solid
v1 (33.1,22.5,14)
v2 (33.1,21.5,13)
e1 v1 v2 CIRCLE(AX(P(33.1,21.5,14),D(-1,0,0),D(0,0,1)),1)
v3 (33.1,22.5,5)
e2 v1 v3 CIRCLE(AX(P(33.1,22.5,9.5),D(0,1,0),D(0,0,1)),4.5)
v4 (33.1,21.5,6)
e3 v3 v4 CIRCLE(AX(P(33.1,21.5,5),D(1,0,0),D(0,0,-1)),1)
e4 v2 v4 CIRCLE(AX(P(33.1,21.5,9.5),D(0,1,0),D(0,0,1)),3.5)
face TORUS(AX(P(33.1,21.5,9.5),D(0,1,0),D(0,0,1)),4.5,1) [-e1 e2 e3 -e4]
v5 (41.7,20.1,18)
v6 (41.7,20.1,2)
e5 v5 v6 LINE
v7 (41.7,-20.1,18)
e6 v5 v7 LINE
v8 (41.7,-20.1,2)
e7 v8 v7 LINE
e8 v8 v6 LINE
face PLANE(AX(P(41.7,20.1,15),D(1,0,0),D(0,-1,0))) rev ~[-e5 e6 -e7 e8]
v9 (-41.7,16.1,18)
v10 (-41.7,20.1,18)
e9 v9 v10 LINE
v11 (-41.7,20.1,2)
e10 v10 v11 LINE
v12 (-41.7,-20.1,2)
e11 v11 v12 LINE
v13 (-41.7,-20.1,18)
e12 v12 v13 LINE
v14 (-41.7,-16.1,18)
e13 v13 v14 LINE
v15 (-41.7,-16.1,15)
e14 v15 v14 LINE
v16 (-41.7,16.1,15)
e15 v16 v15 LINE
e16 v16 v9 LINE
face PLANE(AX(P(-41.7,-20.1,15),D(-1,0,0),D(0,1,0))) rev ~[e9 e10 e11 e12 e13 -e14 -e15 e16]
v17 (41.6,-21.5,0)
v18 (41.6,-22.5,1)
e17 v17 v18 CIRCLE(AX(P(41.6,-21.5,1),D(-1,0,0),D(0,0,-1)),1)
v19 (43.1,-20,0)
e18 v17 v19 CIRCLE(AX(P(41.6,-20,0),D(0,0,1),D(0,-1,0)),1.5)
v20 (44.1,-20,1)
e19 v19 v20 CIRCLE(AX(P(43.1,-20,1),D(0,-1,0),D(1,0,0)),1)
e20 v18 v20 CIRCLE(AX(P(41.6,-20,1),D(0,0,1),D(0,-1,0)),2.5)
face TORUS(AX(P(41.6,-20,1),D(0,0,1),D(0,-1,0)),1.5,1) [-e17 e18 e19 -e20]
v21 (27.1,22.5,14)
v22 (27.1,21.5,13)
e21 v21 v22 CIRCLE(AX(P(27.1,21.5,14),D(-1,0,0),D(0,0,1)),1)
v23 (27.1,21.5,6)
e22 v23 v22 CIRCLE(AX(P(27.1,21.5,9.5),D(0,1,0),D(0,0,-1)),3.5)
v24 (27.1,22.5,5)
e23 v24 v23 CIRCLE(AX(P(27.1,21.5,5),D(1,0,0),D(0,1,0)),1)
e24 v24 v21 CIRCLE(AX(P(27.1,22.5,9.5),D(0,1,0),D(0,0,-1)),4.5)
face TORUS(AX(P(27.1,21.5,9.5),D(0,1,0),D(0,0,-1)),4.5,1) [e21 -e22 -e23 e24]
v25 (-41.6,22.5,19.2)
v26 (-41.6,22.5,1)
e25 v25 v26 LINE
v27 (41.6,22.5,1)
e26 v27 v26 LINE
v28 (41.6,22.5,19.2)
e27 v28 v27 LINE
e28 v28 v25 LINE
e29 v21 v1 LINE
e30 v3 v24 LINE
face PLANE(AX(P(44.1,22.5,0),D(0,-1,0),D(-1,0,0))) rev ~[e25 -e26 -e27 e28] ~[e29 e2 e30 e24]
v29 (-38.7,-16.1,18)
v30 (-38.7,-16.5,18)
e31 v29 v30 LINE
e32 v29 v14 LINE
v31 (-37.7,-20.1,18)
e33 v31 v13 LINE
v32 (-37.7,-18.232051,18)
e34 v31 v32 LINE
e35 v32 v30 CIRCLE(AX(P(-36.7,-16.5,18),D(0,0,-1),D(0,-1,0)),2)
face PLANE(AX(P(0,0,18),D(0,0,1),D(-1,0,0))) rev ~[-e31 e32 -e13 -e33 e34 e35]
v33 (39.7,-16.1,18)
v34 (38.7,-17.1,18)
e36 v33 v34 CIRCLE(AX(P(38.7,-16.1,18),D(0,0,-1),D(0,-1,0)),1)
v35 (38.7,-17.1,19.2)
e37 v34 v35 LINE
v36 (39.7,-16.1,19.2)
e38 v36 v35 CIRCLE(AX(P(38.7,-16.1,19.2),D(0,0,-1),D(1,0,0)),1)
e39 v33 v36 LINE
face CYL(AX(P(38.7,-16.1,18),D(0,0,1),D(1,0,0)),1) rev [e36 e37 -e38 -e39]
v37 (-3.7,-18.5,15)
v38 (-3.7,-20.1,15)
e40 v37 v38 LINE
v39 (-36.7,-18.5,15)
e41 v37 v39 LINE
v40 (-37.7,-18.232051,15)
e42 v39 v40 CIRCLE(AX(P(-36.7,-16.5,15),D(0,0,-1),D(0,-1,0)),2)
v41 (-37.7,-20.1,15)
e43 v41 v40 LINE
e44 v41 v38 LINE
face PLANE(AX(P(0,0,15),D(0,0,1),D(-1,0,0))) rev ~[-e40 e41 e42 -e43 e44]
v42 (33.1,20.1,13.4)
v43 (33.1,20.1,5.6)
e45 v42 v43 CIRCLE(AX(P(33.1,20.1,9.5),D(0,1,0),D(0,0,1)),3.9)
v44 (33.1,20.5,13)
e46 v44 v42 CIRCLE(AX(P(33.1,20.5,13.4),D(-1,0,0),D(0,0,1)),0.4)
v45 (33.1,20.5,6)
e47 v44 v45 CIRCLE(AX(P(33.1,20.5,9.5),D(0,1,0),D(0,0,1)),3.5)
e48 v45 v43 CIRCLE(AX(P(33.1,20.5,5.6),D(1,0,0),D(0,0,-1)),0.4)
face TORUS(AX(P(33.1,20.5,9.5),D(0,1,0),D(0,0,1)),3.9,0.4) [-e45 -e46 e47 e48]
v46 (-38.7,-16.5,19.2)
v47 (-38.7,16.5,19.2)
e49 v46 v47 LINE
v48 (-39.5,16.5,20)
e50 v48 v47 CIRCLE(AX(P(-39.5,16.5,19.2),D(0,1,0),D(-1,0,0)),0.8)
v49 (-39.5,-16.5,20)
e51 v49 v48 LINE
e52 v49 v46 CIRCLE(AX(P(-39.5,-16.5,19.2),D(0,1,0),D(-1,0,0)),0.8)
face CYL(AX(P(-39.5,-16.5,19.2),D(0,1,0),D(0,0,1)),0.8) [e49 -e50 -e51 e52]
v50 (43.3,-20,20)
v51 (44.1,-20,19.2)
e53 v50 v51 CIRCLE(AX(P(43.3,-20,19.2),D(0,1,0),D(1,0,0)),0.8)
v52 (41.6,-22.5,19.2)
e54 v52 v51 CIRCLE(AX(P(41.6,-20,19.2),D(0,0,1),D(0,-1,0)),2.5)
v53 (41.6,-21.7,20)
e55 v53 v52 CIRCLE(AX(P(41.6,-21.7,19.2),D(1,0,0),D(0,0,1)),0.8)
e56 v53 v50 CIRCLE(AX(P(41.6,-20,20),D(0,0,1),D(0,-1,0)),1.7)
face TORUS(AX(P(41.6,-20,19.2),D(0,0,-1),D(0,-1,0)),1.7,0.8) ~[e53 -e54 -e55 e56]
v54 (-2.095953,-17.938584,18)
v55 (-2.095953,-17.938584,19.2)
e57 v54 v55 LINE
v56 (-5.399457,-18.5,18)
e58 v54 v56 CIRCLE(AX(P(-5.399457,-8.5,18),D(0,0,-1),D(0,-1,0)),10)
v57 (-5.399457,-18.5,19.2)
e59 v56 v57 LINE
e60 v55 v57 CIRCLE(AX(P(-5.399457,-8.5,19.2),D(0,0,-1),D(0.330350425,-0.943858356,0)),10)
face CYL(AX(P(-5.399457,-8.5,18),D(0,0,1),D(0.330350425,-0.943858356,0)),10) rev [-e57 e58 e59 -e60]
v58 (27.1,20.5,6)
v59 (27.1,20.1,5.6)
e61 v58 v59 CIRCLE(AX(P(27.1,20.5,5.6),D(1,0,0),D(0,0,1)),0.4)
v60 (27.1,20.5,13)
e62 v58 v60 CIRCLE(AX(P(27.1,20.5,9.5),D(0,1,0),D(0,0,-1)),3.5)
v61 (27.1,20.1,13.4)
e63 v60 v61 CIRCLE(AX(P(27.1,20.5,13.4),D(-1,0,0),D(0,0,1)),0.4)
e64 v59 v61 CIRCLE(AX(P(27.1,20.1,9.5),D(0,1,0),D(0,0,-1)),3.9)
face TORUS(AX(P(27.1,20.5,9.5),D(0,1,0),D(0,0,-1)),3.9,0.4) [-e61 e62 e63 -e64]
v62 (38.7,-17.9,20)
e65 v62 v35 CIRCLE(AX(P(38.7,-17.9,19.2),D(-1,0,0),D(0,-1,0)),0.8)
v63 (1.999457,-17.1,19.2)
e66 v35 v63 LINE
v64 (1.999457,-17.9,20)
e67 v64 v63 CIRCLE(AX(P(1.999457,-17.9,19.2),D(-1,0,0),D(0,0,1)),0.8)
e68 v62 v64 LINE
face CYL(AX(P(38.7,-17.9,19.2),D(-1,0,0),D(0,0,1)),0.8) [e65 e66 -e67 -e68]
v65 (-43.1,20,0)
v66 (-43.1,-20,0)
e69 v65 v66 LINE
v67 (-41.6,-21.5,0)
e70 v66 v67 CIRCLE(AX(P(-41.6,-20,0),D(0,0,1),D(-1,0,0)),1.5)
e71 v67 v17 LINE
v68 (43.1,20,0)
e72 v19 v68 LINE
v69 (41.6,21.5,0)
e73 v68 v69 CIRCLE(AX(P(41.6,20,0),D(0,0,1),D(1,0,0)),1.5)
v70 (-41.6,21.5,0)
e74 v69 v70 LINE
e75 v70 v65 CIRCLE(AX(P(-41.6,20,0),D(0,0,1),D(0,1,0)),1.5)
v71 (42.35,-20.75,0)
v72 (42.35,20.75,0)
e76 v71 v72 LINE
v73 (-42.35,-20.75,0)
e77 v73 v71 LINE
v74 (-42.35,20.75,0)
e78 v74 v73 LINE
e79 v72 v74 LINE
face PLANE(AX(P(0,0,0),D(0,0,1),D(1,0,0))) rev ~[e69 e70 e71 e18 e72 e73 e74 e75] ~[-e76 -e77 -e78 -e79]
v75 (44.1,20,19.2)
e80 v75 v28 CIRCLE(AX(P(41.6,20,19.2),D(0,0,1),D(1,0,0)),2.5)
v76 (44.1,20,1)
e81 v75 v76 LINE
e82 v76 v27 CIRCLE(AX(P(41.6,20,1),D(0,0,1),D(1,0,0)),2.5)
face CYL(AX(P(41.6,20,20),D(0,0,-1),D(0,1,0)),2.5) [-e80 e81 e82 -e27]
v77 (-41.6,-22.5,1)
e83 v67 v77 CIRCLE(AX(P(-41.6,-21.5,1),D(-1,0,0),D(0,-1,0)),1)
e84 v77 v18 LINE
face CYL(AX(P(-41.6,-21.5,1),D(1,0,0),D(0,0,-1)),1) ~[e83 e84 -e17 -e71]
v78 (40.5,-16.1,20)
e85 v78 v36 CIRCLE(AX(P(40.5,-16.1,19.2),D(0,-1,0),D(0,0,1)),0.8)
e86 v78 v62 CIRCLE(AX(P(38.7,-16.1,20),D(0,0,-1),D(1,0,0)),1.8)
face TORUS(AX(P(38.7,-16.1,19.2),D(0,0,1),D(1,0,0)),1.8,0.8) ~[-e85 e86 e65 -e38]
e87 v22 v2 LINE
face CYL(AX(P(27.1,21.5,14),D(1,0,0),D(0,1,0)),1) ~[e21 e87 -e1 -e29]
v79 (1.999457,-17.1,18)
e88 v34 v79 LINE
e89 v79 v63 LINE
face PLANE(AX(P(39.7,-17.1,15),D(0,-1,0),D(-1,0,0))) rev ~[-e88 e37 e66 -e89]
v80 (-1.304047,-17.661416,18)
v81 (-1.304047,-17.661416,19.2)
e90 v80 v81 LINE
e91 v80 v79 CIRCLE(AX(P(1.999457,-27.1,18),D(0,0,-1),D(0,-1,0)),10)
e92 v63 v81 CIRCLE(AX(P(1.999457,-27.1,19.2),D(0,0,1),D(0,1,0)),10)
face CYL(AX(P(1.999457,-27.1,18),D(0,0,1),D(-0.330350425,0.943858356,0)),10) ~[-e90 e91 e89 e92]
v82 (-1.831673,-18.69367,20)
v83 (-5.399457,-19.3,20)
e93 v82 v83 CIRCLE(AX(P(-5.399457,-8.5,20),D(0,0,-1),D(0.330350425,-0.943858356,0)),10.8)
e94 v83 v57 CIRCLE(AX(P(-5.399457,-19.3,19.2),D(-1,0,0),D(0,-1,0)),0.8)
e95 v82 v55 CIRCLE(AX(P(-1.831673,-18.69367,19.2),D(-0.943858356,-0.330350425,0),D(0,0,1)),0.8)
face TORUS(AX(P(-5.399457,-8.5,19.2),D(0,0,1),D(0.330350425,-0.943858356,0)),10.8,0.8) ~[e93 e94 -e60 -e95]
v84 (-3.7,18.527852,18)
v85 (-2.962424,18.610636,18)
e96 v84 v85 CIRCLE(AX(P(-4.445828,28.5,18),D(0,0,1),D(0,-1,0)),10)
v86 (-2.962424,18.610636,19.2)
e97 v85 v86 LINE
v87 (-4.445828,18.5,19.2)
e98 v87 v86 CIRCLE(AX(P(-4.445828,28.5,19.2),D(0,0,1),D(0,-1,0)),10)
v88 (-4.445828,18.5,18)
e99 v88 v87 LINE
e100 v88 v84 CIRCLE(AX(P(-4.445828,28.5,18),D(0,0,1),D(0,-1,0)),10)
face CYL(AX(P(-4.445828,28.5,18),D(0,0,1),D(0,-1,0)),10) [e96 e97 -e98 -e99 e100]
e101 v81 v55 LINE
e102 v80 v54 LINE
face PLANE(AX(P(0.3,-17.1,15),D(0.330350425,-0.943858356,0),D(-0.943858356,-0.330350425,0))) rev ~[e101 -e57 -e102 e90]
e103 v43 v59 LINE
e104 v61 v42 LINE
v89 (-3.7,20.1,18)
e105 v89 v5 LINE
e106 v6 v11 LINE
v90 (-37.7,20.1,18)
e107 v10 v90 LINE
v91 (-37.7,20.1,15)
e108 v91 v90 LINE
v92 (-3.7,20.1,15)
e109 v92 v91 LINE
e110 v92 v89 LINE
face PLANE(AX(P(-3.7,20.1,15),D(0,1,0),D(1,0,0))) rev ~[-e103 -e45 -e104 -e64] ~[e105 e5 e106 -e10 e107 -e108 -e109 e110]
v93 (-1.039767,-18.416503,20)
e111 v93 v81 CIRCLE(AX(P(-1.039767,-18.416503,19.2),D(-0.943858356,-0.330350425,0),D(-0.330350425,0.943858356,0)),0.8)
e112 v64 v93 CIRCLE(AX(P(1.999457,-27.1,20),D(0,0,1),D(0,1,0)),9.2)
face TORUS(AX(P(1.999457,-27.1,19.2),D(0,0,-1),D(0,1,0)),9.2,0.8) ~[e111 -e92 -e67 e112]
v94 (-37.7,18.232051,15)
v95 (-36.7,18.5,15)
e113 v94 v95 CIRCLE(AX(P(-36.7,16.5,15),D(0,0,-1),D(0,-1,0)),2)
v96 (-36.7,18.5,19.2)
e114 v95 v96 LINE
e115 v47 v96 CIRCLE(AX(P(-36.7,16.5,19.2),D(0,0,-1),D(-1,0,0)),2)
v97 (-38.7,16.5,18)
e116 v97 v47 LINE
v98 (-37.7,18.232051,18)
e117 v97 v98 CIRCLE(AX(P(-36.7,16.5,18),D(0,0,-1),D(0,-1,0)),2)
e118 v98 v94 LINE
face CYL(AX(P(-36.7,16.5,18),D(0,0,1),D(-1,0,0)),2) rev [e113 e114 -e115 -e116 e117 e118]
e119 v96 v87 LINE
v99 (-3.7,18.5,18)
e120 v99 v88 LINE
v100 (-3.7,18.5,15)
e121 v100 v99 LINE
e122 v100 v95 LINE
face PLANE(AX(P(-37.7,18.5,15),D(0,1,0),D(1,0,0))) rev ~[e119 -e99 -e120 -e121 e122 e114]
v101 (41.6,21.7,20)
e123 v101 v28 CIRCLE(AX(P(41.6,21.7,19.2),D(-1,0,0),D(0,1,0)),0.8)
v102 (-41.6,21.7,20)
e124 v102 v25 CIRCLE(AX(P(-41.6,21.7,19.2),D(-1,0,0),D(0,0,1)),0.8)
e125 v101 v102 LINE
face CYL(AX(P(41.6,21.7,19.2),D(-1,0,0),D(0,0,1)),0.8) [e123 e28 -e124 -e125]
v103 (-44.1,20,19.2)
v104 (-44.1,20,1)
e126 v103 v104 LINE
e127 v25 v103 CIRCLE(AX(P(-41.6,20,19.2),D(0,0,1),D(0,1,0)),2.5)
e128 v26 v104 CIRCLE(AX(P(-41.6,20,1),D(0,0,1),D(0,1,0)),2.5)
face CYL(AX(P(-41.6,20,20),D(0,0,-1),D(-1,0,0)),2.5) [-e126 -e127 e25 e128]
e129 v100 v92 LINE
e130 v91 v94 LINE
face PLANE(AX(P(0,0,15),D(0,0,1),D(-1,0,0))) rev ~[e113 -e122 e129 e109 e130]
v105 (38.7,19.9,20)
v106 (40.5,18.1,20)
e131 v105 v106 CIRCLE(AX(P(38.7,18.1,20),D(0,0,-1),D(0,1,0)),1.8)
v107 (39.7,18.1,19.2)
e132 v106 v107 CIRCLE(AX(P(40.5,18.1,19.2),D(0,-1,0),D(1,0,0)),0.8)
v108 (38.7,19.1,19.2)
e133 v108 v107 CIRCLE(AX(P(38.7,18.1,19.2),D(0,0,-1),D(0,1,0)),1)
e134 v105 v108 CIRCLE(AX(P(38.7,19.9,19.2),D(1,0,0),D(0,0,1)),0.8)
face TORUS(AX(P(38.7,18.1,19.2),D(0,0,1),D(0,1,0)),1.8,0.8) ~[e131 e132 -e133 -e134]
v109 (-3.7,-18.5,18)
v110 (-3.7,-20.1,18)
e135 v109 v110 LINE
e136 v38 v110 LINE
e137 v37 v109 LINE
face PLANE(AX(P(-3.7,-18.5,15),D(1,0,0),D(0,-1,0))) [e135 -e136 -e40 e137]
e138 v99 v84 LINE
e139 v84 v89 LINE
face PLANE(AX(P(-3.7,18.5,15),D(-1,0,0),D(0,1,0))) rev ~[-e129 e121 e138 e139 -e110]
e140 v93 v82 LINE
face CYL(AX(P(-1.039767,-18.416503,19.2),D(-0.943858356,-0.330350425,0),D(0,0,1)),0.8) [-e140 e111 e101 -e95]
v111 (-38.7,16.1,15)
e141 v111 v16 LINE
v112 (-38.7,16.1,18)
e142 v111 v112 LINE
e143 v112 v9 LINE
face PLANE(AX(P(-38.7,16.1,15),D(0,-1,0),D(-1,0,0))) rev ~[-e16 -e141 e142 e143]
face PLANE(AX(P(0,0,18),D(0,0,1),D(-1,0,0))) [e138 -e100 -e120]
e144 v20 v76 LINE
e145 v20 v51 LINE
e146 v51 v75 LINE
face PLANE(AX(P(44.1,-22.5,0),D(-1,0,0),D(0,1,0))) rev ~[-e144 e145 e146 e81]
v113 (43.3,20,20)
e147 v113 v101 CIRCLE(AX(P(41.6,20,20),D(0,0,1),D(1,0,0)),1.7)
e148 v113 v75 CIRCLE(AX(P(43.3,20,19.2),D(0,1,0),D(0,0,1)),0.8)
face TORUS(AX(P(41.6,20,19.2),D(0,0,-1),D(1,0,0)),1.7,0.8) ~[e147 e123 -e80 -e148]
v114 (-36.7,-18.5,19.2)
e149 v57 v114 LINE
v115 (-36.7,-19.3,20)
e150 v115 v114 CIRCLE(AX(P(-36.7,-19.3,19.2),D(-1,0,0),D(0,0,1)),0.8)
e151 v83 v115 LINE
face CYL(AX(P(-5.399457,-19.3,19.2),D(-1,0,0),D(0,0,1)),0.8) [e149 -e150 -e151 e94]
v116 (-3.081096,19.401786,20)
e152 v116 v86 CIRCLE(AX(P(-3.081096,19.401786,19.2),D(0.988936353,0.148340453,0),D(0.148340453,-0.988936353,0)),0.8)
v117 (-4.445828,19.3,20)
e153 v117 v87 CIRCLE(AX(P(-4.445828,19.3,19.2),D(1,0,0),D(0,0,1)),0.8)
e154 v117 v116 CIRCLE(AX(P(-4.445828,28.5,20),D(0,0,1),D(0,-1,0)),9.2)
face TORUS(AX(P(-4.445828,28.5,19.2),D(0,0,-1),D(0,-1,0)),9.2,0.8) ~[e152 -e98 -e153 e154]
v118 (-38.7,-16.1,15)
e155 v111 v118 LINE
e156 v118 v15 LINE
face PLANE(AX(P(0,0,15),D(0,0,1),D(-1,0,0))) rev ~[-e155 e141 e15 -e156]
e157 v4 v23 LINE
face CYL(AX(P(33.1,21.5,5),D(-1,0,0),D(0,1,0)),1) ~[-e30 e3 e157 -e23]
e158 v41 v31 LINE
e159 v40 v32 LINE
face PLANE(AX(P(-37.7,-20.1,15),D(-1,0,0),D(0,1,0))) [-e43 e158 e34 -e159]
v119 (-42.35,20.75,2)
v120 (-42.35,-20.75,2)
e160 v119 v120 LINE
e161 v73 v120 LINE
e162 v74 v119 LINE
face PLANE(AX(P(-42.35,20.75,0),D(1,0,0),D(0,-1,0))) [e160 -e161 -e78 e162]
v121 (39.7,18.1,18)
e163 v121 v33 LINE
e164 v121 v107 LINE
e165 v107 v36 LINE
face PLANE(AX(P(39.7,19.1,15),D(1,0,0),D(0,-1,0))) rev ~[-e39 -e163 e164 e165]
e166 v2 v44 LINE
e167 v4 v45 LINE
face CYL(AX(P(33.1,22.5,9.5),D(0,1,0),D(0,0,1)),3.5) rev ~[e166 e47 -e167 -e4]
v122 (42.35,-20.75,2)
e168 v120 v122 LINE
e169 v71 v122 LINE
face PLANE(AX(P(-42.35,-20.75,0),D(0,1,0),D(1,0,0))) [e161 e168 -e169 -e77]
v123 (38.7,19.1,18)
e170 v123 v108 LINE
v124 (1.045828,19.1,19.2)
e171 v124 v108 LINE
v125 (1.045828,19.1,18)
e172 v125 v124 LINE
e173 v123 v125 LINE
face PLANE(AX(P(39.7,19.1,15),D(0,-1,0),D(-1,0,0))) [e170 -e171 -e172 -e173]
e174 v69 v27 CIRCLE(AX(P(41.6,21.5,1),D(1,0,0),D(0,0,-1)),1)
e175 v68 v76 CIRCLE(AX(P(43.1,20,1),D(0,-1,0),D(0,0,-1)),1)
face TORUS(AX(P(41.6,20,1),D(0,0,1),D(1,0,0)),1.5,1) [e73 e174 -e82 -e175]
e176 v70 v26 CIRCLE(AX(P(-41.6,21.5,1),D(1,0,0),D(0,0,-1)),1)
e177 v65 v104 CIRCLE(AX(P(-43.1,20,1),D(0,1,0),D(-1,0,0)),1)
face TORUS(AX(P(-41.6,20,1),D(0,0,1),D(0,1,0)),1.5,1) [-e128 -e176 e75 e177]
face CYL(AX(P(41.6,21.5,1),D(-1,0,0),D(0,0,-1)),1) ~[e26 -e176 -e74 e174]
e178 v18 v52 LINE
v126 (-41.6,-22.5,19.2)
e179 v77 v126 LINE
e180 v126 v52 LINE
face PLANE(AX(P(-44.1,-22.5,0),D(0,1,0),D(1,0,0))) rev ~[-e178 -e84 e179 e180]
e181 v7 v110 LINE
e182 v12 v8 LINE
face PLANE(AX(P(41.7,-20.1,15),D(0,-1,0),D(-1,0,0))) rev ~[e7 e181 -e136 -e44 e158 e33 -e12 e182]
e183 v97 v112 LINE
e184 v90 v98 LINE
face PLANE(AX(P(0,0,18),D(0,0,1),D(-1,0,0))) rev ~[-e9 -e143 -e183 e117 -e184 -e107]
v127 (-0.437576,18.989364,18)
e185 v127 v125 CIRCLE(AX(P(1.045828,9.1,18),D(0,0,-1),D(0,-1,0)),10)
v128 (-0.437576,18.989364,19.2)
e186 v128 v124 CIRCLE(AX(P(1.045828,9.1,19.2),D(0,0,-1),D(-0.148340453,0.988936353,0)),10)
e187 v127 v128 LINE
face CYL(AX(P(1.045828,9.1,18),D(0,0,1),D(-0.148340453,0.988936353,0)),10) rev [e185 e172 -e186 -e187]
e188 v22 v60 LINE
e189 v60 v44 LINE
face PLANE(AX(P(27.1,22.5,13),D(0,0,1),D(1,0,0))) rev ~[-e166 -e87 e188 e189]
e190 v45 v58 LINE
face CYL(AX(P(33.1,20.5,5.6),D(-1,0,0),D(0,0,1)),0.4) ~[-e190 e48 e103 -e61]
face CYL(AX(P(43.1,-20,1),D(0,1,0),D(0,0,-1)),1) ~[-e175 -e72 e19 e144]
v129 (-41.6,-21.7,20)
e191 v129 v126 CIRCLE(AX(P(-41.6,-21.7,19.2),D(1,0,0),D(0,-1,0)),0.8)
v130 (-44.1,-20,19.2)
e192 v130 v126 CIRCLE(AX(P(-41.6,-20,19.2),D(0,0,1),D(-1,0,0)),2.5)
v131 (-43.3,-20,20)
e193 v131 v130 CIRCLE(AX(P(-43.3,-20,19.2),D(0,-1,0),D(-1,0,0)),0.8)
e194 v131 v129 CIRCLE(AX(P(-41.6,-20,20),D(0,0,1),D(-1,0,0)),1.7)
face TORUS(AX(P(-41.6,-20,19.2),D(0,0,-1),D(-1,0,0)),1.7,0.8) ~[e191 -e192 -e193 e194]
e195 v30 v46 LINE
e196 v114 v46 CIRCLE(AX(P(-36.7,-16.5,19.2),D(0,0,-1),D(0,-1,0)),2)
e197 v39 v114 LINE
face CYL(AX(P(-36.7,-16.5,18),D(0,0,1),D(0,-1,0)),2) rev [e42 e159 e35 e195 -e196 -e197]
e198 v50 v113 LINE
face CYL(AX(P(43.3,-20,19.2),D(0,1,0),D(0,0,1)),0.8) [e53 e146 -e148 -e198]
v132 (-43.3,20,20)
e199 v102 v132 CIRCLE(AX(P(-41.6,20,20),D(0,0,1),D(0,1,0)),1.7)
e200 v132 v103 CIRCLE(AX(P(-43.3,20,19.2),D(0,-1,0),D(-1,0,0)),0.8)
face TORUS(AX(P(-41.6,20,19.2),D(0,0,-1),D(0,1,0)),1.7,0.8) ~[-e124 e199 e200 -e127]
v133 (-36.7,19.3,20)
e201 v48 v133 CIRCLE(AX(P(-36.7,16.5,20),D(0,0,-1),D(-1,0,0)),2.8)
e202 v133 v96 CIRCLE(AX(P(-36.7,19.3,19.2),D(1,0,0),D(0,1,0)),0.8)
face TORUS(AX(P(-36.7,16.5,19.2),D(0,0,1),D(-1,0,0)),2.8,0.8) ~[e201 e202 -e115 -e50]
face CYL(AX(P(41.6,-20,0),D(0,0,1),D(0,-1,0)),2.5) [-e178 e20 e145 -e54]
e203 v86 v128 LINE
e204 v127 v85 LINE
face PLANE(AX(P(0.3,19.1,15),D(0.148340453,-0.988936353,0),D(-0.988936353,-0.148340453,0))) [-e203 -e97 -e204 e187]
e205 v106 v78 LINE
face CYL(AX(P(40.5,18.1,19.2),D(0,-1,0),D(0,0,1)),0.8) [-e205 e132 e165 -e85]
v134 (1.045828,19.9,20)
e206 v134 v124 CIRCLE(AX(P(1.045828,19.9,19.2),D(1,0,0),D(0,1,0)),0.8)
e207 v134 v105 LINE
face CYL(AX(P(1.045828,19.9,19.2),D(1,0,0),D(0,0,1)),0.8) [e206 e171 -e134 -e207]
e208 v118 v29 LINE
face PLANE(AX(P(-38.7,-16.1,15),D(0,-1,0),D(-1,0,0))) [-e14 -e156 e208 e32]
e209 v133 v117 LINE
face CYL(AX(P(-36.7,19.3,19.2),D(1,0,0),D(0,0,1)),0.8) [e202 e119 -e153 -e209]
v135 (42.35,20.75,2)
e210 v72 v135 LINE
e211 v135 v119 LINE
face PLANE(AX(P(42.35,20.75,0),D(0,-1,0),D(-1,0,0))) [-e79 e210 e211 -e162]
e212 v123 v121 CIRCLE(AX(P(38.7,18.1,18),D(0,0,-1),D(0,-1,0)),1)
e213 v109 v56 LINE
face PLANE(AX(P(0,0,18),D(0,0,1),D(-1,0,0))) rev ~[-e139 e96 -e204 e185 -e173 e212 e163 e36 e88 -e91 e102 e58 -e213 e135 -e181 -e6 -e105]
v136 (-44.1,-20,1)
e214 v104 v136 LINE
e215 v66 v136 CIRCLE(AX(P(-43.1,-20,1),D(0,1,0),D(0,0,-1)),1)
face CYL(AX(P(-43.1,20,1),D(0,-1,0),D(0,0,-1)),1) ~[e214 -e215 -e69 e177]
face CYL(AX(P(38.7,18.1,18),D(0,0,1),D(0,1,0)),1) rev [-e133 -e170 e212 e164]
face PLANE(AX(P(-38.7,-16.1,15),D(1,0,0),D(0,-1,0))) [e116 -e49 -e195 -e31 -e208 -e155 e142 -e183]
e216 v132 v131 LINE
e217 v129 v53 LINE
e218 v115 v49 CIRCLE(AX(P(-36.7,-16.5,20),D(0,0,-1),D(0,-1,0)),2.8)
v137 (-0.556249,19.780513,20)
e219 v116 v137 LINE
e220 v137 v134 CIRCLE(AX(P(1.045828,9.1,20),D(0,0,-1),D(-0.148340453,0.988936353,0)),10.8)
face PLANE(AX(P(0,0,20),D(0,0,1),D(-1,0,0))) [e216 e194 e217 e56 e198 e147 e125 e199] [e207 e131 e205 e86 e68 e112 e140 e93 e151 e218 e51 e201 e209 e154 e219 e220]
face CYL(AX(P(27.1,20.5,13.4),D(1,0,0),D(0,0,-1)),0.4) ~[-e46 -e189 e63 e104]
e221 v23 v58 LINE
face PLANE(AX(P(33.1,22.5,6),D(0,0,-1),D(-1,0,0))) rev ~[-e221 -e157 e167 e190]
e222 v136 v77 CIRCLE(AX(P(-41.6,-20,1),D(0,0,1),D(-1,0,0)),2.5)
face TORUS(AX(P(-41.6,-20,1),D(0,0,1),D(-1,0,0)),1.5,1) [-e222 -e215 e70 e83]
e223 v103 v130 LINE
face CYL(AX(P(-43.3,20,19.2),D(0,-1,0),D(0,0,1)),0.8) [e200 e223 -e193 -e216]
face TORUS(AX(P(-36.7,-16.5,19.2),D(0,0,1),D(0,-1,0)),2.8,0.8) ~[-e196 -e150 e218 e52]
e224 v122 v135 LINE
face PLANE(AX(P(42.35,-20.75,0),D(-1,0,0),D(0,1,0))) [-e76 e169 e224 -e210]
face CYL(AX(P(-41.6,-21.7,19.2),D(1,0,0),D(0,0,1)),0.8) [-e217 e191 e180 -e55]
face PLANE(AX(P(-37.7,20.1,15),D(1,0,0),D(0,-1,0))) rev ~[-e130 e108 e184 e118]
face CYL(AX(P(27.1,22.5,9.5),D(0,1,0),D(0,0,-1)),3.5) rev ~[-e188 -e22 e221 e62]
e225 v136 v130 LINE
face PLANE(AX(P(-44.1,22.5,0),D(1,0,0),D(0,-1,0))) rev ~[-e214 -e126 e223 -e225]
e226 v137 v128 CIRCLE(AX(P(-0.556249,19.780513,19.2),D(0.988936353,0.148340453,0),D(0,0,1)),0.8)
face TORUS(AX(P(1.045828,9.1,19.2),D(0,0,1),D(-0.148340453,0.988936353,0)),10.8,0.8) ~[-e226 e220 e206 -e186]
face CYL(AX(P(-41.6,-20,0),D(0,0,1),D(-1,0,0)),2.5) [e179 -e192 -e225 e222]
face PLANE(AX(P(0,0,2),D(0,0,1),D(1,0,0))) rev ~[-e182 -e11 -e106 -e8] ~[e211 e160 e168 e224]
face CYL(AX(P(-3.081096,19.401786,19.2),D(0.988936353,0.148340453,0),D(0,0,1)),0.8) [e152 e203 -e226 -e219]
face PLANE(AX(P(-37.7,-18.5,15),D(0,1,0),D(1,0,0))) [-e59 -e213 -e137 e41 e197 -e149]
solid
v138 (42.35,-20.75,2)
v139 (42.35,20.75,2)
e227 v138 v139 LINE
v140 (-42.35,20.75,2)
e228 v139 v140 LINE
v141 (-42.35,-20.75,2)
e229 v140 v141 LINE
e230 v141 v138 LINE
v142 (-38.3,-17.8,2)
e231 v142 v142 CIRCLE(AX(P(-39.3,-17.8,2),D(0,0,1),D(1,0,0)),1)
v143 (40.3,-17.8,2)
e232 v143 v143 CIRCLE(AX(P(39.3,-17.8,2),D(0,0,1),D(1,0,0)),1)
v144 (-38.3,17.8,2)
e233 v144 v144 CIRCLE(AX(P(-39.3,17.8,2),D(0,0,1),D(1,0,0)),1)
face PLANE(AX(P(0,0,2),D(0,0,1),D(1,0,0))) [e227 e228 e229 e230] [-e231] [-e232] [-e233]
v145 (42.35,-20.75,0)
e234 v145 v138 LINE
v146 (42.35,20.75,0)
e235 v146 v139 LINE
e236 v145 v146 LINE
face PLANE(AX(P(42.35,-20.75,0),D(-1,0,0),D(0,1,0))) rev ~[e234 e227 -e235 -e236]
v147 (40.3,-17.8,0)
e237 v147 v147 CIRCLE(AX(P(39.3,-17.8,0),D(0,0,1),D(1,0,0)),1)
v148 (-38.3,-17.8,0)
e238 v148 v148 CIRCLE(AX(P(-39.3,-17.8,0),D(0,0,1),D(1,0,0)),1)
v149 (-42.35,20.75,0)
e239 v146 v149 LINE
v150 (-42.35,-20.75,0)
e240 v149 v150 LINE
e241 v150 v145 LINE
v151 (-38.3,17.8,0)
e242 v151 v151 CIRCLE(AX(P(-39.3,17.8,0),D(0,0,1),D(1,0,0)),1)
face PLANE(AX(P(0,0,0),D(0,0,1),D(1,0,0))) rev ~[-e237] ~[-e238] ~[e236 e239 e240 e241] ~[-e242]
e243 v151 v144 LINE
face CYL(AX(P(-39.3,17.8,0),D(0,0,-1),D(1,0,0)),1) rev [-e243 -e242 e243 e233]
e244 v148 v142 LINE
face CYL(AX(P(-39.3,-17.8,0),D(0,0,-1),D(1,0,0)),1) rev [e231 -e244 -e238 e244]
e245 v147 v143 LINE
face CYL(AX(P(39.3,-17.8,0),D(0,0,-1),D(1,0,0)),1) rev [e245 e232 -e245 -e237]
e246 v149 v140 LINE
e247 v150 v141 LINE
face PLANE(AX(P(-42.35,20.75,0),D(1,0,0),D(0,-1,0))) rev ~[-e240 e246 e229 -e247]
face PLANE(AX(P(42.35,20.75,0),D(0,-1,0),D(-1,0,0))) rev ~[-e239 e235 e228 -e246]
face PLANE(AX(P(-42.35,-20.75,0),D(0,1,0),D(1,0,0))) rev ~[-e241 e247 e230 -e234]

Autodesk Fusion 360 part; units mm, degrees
sketch "Sketch1" plane through (0, 0, 0) normal (0, 0, 1) x (1, 0, 0)
  line L0 (42.2, 20.6) -> (-42.2, 20.6) construction
  line L1 (-42.2, 20.6) -> (-42.2, -20.6) construction
  line L2 (-42.2, -20.6) -> (42.2, -20.6) construction
  line L3 (42.2, -20.6) -> (42.2, 20.6) construction
  line L4 (42.2, 20.6) -> (-42.2, -20.6) construction
  line L5 (-42.2, 20.6) -> (42.2, -20.6) construction
  line L6 (41.55, 19.95) -> (-41.55, 19.95) construction
  line L7 (-41.55, 19.95) -> (-41.55, -19.95) construction
  line L8 (-41.55, -19.95) -> (41.55, -19.95) construction
  line L9 (41.55, -19.95) -> (41.55, 19.95) construction
  line L10 (41.55, 19.95) -> (-41.55, -19.95) construction
  line L11 (-41.55, 19.95) -> (41.55, -19.95) construction
  circle A0 centre (-39.3, -17.8) radius 1
  circle A1 centre (-39.3, 17.8) radius 1
  circle A2 centre (39.3, -17.8) radius 1
  line L12 (42.35, 20.75) -> (-42.35, 20.75)
  line L13 (-42.35, 20.75) -> (-42.35, -20.75)
  line L14 (-42.35, -20.75) -> (42.35, -20.75)
  line L15 (42.35, -20.75) -> (42.35, 20.75)
  line L16 (41.7, -20.1) -> (41.7, 20.1)
  line L17 (41.7, 20.1) -> (-41.7, 20.1)
  line L18 (-41.7, 20.1) -> (-41.7, -20.1)
  line L19 (-41.7, -20.1) -> (41.7, -20.1)
  line L20 (-44.1, -22.5) -> (44.1, -22.5)
  line L21 (44.1, -22.5) -> (44.1, 22.5)
  line L22 (44.1, 22.5) -> (-44.1, 22.5)
  line L23 (-44.1, 22.5) -> (-44.1, -22.5)
  dimension "d1" = 84.4
  dimension "d2" = 41.2
  dimension "d3" = 83.1
  dimension "d4" = 39.9
  dimension "d18" = 0.15
  dimension "d20" = 0.15
  dimension "d26" = 2.4
extrude "Extrude1" add sketch "Sketch1" along normal blind 2 contours L12 L13 L14 L15 | L16 L17 L18 L19 makes body 1 in component "back"
extrude "Extrude1'" add sketch "Sketch1" along normal blind 2 separate body contours L20 L21 L22 L23 makes body 2 in component "case"
extrude "Extrude2" add sketch "Sketch1" along normal blind 13 from surface at 2 contours L12 L13 L14 L15 | L20 L21 L22 L23 bodies 2 in component "case"
sketch "Sketch2" plane through (0, 0, 15) normal (0, 0, 1) x (-1, 0, 0)
  line L0 (-41.7, -20.1) -> (-41.7, 20.1)
  line L1 (-41.7, 20.1) -> (41.7, 20.1)
  line L2 (41.7, 20.1) -> (41.7, -20.1)
  line L3 (41.7, -20.1) -> (-41.7, -20.1)
  line L4 (-44.1, -22.5) -> (44.1, -22.5)
  line L5 (44.1, -22.5) -> (44.1, 22.5)
  line L6 (44.1, 22.5) -> (-44.1, 22.5)
  line L7 (-44.1, 22.5) -> (-44.1, -22.5)
  line L8 (44.1, -22.5) -> (-44.1, -22.5)
  line L9 (-44.1, -22.5) -> (-44.1, 22.5)
  line L10 (-44.1, 22.5) -> (44.1, 22.5)
  line L11 (44.1, 22.5) -> (44.1, -22.5)
  line L12 (38.7, -18.5) -> (3.7, -18.5)
  line L13 (38.7, 18.5) -> (3.7, 18.5)
  line L14 (38.7, -18.5) -> (38.7, 18.5)
  line L15 (41.7, -20.1) -> (37.7, -20.1)
  line L16 (37.7, -20.1) -> (37.7, -16.1)
  line L17 (37.7, -16.1) -> (41.7, -16.1)
  line L18 (41.7, -16.1) -> (41.7, -20.1)
  line L19 (41.7, 20.1) -> (37.7, 20.1)
  line L20 (37.7, 20.1) -> (37.7, 16.1)
  line L21 (37.7, 16.1) -> (41.7, 16.1)
  line L22 (41.7, 16.1) -> (41.7, 20.1)
  line L23 (-39.7, 17.1) -> (-0.3, 17.1)
  line L24 (-39.7, -19.1) -> (-0.3, -19.1)
  line L25 (3.7, -18.5) -> (3.7, -20.1)
  line L26 (3.7, 18.5) -> (3.7, 20.1)
  line L27 (-39.7, -19.1) -> (-39.7, 17.1)
  line L28 (41.7, -20.1) -> (-41.7, -20.1)
  line L29 (-41.7, -20.1) -> (-41.7, 20.1)
  line L30 (-41.7, 20.1) -> (41.7, 20.1)
  line L31 (41.7, 20.1) -> (41.7, -20.1)
  line L32 (-0.3, 17.1) -> (3.7, 18.5)
  line L33 (-0.3, -19.1) -> (3.7, -18.5)
  dimension "d35" = 1.6
  dimension "d36" = 1.6
  dimension "d37" = 3
  dimension "d38" = 4
  dimension "d39" = 4
  dimension "d40" = 4
  dimension "d41" = 4
  dimension "d42" = 38
  dimension "d43" = 38
  dimension "d44" = 3
  dimension "d45" = 1
  dimension "d46" = 2
extrude "Extrude3" add sketch "Sketch2" along normal blind 5 contours L0 L1 L3 L23 L24 L25 L26 L27 L28 L29 L30 L32 L33 | L3 L12 L16 L25 L28 | L1 L13 L20 L26 L30 | L2 L3 L12 L14 L15 L16 L17 L18 L28 L31 | L1 L2 L13 L14 L19 L20 L21 L22 L30 L31 | L2 L14 L17 L21 L31 | L4 L5 L6 L7 L8 L9 L10 L11 bodies 2 in component "case"
extrude "Extrude4" cut sketch "Sketch2" along normal blind 3 contours L0 L1 L3 L23 L24 L25 L26 L27 L28 L29 L30 L32 L33 | L2 L3 L12 L14 L15 L16 L17 L18 L28 L31 | L1 L2 L13 L14 L19 L20 L21 L22 L30 L31 bodies 2 in component "case"
sketch "Sketch3" plane through (0, 22.5, 0) normal (0, 1, 0) x (-1, 0, 0)
  line L0 (-44.1, 0) -> (44.1, 0)
  line L1 (44.1, 0) -> (44.1, 20)
  line L2 (44.1, 20) -> (-44.1, 20)
  line L3 (-44.1, 20) -> (-44.1, 0)
  line L4 (-33.1, 6) -> (-27.1, 6)
  arc A0 (-27.1, 6) -> (-27.1, 13) centre (-27.1, 9.5) ccw
  line L5 (-27.1, 13) -> (-33.1, 13)
  arc A1 (-33.1, 13) -> (-33.1, 6) centre (-33.1, 9.5) ccw
  line L6 (-36.6, 9.5) -> (-23.6, 9.5) construction
  dimension "d68" = 7
  dimension "d69" = 13
  dimension "d70" = 7.5
  dimension "d71" = 7
extrude "Extrude5" cut sketch "Sketch3" against normal up to surface (2.4 mm away) contours L4 A0 L5 A1 bodies 2 in component "case"
fillet "Fillet1" radius 2 2 edges at (-38.7, 18.5, 19) (-38.7, -18.5, 19) on bodies 2 in component "case"
fillet "Fillet1" radius 1 2 edges at (39.7, 19.1, 19) (39.7, -17.1, 19) on bodies 2 in component "case"
fillet "Fillet1" radius 2.5 4 edges at (44.1, -22.5, 10) (44.1, 22.5, 10) (-44.1, -22.5, 10) (-44.1, 22.5, 10) on bodies 2 in component "case"
fillet "Fillet1" radius 10 4 edges at (0.3, -17.1, 19) (-3.7, -18.5, 19) (-3.7, 18.5, 19) (0.3, 19.1, 19) on bodies 2 in component "case"
fillet "Fillet1" radius 1 4 edges at (36.6, 22.5, 9.5) (30.1, 22.5, 13) (23.6, 22.5, 9.5) (30.1, 22.5, 6) on bodies 2 in component "case"
fillet "Fillet1" radius 0.4 4 edges at (36.6, 20.1, 9.5) (30.1, 20.1, 6) (23.6, 20.1, 9.5) (30.1, 20.1, 13) on bodies 2 in component "case"
fillet "Fillet2" radius 0.8 24 edges at (-38.1142, 17.9142, 20) (-20.5729, 18.5, 20) (-3.7021, 18.5277, 20) (-1.7, 18.8, 20) (0.3021, 19.0723, 20) (19.8729, 19.1, 20) (39.4071, 18.8071, 20) (39.7, 1, 20) (39.4071, -16.8071, 20) (20.3497, -17.1, 20) (0.324, -17.2414, 20) (-1.7, -17.8, 20) (-3.724, -18.3586, 20) (-21.0497, -18.5, 20) (-38.1142, -17.9142, 20) (-38.7, 0, 20) (-43.3678, -21.7678, 20) (0, -22.5, 20) (43.3678, -21.7678, 20) (44.1, 0, 20) (43.3678, 21.7678, 20) (0, 22.5, 20) (-43.3678, 21.7678, 20) (-44.1, 0, 20) on bodies 2 in component "case"
fillet "Fillet2" radius 1 8 edges at (0, 22.5, 0) (-43.3678, 21.7678, 0) (-44.1, 0, 0) (-43.3678, -21.7678, 0) (0, -22.5, 0) (43.3678, -21.7678, 0) (44.1, 0, 0) (43.3678, 21.7678, 0) on bodies 2 in component "case"
component "back" placed x (1, 0, 0) y (0, 1, 0) z (0, 0, 1) at (0, 0, 0)
component "case" placed x (1, 0, 0) y (0, 1, 0) z (0, 0, 1) at (0, 0, 0)
